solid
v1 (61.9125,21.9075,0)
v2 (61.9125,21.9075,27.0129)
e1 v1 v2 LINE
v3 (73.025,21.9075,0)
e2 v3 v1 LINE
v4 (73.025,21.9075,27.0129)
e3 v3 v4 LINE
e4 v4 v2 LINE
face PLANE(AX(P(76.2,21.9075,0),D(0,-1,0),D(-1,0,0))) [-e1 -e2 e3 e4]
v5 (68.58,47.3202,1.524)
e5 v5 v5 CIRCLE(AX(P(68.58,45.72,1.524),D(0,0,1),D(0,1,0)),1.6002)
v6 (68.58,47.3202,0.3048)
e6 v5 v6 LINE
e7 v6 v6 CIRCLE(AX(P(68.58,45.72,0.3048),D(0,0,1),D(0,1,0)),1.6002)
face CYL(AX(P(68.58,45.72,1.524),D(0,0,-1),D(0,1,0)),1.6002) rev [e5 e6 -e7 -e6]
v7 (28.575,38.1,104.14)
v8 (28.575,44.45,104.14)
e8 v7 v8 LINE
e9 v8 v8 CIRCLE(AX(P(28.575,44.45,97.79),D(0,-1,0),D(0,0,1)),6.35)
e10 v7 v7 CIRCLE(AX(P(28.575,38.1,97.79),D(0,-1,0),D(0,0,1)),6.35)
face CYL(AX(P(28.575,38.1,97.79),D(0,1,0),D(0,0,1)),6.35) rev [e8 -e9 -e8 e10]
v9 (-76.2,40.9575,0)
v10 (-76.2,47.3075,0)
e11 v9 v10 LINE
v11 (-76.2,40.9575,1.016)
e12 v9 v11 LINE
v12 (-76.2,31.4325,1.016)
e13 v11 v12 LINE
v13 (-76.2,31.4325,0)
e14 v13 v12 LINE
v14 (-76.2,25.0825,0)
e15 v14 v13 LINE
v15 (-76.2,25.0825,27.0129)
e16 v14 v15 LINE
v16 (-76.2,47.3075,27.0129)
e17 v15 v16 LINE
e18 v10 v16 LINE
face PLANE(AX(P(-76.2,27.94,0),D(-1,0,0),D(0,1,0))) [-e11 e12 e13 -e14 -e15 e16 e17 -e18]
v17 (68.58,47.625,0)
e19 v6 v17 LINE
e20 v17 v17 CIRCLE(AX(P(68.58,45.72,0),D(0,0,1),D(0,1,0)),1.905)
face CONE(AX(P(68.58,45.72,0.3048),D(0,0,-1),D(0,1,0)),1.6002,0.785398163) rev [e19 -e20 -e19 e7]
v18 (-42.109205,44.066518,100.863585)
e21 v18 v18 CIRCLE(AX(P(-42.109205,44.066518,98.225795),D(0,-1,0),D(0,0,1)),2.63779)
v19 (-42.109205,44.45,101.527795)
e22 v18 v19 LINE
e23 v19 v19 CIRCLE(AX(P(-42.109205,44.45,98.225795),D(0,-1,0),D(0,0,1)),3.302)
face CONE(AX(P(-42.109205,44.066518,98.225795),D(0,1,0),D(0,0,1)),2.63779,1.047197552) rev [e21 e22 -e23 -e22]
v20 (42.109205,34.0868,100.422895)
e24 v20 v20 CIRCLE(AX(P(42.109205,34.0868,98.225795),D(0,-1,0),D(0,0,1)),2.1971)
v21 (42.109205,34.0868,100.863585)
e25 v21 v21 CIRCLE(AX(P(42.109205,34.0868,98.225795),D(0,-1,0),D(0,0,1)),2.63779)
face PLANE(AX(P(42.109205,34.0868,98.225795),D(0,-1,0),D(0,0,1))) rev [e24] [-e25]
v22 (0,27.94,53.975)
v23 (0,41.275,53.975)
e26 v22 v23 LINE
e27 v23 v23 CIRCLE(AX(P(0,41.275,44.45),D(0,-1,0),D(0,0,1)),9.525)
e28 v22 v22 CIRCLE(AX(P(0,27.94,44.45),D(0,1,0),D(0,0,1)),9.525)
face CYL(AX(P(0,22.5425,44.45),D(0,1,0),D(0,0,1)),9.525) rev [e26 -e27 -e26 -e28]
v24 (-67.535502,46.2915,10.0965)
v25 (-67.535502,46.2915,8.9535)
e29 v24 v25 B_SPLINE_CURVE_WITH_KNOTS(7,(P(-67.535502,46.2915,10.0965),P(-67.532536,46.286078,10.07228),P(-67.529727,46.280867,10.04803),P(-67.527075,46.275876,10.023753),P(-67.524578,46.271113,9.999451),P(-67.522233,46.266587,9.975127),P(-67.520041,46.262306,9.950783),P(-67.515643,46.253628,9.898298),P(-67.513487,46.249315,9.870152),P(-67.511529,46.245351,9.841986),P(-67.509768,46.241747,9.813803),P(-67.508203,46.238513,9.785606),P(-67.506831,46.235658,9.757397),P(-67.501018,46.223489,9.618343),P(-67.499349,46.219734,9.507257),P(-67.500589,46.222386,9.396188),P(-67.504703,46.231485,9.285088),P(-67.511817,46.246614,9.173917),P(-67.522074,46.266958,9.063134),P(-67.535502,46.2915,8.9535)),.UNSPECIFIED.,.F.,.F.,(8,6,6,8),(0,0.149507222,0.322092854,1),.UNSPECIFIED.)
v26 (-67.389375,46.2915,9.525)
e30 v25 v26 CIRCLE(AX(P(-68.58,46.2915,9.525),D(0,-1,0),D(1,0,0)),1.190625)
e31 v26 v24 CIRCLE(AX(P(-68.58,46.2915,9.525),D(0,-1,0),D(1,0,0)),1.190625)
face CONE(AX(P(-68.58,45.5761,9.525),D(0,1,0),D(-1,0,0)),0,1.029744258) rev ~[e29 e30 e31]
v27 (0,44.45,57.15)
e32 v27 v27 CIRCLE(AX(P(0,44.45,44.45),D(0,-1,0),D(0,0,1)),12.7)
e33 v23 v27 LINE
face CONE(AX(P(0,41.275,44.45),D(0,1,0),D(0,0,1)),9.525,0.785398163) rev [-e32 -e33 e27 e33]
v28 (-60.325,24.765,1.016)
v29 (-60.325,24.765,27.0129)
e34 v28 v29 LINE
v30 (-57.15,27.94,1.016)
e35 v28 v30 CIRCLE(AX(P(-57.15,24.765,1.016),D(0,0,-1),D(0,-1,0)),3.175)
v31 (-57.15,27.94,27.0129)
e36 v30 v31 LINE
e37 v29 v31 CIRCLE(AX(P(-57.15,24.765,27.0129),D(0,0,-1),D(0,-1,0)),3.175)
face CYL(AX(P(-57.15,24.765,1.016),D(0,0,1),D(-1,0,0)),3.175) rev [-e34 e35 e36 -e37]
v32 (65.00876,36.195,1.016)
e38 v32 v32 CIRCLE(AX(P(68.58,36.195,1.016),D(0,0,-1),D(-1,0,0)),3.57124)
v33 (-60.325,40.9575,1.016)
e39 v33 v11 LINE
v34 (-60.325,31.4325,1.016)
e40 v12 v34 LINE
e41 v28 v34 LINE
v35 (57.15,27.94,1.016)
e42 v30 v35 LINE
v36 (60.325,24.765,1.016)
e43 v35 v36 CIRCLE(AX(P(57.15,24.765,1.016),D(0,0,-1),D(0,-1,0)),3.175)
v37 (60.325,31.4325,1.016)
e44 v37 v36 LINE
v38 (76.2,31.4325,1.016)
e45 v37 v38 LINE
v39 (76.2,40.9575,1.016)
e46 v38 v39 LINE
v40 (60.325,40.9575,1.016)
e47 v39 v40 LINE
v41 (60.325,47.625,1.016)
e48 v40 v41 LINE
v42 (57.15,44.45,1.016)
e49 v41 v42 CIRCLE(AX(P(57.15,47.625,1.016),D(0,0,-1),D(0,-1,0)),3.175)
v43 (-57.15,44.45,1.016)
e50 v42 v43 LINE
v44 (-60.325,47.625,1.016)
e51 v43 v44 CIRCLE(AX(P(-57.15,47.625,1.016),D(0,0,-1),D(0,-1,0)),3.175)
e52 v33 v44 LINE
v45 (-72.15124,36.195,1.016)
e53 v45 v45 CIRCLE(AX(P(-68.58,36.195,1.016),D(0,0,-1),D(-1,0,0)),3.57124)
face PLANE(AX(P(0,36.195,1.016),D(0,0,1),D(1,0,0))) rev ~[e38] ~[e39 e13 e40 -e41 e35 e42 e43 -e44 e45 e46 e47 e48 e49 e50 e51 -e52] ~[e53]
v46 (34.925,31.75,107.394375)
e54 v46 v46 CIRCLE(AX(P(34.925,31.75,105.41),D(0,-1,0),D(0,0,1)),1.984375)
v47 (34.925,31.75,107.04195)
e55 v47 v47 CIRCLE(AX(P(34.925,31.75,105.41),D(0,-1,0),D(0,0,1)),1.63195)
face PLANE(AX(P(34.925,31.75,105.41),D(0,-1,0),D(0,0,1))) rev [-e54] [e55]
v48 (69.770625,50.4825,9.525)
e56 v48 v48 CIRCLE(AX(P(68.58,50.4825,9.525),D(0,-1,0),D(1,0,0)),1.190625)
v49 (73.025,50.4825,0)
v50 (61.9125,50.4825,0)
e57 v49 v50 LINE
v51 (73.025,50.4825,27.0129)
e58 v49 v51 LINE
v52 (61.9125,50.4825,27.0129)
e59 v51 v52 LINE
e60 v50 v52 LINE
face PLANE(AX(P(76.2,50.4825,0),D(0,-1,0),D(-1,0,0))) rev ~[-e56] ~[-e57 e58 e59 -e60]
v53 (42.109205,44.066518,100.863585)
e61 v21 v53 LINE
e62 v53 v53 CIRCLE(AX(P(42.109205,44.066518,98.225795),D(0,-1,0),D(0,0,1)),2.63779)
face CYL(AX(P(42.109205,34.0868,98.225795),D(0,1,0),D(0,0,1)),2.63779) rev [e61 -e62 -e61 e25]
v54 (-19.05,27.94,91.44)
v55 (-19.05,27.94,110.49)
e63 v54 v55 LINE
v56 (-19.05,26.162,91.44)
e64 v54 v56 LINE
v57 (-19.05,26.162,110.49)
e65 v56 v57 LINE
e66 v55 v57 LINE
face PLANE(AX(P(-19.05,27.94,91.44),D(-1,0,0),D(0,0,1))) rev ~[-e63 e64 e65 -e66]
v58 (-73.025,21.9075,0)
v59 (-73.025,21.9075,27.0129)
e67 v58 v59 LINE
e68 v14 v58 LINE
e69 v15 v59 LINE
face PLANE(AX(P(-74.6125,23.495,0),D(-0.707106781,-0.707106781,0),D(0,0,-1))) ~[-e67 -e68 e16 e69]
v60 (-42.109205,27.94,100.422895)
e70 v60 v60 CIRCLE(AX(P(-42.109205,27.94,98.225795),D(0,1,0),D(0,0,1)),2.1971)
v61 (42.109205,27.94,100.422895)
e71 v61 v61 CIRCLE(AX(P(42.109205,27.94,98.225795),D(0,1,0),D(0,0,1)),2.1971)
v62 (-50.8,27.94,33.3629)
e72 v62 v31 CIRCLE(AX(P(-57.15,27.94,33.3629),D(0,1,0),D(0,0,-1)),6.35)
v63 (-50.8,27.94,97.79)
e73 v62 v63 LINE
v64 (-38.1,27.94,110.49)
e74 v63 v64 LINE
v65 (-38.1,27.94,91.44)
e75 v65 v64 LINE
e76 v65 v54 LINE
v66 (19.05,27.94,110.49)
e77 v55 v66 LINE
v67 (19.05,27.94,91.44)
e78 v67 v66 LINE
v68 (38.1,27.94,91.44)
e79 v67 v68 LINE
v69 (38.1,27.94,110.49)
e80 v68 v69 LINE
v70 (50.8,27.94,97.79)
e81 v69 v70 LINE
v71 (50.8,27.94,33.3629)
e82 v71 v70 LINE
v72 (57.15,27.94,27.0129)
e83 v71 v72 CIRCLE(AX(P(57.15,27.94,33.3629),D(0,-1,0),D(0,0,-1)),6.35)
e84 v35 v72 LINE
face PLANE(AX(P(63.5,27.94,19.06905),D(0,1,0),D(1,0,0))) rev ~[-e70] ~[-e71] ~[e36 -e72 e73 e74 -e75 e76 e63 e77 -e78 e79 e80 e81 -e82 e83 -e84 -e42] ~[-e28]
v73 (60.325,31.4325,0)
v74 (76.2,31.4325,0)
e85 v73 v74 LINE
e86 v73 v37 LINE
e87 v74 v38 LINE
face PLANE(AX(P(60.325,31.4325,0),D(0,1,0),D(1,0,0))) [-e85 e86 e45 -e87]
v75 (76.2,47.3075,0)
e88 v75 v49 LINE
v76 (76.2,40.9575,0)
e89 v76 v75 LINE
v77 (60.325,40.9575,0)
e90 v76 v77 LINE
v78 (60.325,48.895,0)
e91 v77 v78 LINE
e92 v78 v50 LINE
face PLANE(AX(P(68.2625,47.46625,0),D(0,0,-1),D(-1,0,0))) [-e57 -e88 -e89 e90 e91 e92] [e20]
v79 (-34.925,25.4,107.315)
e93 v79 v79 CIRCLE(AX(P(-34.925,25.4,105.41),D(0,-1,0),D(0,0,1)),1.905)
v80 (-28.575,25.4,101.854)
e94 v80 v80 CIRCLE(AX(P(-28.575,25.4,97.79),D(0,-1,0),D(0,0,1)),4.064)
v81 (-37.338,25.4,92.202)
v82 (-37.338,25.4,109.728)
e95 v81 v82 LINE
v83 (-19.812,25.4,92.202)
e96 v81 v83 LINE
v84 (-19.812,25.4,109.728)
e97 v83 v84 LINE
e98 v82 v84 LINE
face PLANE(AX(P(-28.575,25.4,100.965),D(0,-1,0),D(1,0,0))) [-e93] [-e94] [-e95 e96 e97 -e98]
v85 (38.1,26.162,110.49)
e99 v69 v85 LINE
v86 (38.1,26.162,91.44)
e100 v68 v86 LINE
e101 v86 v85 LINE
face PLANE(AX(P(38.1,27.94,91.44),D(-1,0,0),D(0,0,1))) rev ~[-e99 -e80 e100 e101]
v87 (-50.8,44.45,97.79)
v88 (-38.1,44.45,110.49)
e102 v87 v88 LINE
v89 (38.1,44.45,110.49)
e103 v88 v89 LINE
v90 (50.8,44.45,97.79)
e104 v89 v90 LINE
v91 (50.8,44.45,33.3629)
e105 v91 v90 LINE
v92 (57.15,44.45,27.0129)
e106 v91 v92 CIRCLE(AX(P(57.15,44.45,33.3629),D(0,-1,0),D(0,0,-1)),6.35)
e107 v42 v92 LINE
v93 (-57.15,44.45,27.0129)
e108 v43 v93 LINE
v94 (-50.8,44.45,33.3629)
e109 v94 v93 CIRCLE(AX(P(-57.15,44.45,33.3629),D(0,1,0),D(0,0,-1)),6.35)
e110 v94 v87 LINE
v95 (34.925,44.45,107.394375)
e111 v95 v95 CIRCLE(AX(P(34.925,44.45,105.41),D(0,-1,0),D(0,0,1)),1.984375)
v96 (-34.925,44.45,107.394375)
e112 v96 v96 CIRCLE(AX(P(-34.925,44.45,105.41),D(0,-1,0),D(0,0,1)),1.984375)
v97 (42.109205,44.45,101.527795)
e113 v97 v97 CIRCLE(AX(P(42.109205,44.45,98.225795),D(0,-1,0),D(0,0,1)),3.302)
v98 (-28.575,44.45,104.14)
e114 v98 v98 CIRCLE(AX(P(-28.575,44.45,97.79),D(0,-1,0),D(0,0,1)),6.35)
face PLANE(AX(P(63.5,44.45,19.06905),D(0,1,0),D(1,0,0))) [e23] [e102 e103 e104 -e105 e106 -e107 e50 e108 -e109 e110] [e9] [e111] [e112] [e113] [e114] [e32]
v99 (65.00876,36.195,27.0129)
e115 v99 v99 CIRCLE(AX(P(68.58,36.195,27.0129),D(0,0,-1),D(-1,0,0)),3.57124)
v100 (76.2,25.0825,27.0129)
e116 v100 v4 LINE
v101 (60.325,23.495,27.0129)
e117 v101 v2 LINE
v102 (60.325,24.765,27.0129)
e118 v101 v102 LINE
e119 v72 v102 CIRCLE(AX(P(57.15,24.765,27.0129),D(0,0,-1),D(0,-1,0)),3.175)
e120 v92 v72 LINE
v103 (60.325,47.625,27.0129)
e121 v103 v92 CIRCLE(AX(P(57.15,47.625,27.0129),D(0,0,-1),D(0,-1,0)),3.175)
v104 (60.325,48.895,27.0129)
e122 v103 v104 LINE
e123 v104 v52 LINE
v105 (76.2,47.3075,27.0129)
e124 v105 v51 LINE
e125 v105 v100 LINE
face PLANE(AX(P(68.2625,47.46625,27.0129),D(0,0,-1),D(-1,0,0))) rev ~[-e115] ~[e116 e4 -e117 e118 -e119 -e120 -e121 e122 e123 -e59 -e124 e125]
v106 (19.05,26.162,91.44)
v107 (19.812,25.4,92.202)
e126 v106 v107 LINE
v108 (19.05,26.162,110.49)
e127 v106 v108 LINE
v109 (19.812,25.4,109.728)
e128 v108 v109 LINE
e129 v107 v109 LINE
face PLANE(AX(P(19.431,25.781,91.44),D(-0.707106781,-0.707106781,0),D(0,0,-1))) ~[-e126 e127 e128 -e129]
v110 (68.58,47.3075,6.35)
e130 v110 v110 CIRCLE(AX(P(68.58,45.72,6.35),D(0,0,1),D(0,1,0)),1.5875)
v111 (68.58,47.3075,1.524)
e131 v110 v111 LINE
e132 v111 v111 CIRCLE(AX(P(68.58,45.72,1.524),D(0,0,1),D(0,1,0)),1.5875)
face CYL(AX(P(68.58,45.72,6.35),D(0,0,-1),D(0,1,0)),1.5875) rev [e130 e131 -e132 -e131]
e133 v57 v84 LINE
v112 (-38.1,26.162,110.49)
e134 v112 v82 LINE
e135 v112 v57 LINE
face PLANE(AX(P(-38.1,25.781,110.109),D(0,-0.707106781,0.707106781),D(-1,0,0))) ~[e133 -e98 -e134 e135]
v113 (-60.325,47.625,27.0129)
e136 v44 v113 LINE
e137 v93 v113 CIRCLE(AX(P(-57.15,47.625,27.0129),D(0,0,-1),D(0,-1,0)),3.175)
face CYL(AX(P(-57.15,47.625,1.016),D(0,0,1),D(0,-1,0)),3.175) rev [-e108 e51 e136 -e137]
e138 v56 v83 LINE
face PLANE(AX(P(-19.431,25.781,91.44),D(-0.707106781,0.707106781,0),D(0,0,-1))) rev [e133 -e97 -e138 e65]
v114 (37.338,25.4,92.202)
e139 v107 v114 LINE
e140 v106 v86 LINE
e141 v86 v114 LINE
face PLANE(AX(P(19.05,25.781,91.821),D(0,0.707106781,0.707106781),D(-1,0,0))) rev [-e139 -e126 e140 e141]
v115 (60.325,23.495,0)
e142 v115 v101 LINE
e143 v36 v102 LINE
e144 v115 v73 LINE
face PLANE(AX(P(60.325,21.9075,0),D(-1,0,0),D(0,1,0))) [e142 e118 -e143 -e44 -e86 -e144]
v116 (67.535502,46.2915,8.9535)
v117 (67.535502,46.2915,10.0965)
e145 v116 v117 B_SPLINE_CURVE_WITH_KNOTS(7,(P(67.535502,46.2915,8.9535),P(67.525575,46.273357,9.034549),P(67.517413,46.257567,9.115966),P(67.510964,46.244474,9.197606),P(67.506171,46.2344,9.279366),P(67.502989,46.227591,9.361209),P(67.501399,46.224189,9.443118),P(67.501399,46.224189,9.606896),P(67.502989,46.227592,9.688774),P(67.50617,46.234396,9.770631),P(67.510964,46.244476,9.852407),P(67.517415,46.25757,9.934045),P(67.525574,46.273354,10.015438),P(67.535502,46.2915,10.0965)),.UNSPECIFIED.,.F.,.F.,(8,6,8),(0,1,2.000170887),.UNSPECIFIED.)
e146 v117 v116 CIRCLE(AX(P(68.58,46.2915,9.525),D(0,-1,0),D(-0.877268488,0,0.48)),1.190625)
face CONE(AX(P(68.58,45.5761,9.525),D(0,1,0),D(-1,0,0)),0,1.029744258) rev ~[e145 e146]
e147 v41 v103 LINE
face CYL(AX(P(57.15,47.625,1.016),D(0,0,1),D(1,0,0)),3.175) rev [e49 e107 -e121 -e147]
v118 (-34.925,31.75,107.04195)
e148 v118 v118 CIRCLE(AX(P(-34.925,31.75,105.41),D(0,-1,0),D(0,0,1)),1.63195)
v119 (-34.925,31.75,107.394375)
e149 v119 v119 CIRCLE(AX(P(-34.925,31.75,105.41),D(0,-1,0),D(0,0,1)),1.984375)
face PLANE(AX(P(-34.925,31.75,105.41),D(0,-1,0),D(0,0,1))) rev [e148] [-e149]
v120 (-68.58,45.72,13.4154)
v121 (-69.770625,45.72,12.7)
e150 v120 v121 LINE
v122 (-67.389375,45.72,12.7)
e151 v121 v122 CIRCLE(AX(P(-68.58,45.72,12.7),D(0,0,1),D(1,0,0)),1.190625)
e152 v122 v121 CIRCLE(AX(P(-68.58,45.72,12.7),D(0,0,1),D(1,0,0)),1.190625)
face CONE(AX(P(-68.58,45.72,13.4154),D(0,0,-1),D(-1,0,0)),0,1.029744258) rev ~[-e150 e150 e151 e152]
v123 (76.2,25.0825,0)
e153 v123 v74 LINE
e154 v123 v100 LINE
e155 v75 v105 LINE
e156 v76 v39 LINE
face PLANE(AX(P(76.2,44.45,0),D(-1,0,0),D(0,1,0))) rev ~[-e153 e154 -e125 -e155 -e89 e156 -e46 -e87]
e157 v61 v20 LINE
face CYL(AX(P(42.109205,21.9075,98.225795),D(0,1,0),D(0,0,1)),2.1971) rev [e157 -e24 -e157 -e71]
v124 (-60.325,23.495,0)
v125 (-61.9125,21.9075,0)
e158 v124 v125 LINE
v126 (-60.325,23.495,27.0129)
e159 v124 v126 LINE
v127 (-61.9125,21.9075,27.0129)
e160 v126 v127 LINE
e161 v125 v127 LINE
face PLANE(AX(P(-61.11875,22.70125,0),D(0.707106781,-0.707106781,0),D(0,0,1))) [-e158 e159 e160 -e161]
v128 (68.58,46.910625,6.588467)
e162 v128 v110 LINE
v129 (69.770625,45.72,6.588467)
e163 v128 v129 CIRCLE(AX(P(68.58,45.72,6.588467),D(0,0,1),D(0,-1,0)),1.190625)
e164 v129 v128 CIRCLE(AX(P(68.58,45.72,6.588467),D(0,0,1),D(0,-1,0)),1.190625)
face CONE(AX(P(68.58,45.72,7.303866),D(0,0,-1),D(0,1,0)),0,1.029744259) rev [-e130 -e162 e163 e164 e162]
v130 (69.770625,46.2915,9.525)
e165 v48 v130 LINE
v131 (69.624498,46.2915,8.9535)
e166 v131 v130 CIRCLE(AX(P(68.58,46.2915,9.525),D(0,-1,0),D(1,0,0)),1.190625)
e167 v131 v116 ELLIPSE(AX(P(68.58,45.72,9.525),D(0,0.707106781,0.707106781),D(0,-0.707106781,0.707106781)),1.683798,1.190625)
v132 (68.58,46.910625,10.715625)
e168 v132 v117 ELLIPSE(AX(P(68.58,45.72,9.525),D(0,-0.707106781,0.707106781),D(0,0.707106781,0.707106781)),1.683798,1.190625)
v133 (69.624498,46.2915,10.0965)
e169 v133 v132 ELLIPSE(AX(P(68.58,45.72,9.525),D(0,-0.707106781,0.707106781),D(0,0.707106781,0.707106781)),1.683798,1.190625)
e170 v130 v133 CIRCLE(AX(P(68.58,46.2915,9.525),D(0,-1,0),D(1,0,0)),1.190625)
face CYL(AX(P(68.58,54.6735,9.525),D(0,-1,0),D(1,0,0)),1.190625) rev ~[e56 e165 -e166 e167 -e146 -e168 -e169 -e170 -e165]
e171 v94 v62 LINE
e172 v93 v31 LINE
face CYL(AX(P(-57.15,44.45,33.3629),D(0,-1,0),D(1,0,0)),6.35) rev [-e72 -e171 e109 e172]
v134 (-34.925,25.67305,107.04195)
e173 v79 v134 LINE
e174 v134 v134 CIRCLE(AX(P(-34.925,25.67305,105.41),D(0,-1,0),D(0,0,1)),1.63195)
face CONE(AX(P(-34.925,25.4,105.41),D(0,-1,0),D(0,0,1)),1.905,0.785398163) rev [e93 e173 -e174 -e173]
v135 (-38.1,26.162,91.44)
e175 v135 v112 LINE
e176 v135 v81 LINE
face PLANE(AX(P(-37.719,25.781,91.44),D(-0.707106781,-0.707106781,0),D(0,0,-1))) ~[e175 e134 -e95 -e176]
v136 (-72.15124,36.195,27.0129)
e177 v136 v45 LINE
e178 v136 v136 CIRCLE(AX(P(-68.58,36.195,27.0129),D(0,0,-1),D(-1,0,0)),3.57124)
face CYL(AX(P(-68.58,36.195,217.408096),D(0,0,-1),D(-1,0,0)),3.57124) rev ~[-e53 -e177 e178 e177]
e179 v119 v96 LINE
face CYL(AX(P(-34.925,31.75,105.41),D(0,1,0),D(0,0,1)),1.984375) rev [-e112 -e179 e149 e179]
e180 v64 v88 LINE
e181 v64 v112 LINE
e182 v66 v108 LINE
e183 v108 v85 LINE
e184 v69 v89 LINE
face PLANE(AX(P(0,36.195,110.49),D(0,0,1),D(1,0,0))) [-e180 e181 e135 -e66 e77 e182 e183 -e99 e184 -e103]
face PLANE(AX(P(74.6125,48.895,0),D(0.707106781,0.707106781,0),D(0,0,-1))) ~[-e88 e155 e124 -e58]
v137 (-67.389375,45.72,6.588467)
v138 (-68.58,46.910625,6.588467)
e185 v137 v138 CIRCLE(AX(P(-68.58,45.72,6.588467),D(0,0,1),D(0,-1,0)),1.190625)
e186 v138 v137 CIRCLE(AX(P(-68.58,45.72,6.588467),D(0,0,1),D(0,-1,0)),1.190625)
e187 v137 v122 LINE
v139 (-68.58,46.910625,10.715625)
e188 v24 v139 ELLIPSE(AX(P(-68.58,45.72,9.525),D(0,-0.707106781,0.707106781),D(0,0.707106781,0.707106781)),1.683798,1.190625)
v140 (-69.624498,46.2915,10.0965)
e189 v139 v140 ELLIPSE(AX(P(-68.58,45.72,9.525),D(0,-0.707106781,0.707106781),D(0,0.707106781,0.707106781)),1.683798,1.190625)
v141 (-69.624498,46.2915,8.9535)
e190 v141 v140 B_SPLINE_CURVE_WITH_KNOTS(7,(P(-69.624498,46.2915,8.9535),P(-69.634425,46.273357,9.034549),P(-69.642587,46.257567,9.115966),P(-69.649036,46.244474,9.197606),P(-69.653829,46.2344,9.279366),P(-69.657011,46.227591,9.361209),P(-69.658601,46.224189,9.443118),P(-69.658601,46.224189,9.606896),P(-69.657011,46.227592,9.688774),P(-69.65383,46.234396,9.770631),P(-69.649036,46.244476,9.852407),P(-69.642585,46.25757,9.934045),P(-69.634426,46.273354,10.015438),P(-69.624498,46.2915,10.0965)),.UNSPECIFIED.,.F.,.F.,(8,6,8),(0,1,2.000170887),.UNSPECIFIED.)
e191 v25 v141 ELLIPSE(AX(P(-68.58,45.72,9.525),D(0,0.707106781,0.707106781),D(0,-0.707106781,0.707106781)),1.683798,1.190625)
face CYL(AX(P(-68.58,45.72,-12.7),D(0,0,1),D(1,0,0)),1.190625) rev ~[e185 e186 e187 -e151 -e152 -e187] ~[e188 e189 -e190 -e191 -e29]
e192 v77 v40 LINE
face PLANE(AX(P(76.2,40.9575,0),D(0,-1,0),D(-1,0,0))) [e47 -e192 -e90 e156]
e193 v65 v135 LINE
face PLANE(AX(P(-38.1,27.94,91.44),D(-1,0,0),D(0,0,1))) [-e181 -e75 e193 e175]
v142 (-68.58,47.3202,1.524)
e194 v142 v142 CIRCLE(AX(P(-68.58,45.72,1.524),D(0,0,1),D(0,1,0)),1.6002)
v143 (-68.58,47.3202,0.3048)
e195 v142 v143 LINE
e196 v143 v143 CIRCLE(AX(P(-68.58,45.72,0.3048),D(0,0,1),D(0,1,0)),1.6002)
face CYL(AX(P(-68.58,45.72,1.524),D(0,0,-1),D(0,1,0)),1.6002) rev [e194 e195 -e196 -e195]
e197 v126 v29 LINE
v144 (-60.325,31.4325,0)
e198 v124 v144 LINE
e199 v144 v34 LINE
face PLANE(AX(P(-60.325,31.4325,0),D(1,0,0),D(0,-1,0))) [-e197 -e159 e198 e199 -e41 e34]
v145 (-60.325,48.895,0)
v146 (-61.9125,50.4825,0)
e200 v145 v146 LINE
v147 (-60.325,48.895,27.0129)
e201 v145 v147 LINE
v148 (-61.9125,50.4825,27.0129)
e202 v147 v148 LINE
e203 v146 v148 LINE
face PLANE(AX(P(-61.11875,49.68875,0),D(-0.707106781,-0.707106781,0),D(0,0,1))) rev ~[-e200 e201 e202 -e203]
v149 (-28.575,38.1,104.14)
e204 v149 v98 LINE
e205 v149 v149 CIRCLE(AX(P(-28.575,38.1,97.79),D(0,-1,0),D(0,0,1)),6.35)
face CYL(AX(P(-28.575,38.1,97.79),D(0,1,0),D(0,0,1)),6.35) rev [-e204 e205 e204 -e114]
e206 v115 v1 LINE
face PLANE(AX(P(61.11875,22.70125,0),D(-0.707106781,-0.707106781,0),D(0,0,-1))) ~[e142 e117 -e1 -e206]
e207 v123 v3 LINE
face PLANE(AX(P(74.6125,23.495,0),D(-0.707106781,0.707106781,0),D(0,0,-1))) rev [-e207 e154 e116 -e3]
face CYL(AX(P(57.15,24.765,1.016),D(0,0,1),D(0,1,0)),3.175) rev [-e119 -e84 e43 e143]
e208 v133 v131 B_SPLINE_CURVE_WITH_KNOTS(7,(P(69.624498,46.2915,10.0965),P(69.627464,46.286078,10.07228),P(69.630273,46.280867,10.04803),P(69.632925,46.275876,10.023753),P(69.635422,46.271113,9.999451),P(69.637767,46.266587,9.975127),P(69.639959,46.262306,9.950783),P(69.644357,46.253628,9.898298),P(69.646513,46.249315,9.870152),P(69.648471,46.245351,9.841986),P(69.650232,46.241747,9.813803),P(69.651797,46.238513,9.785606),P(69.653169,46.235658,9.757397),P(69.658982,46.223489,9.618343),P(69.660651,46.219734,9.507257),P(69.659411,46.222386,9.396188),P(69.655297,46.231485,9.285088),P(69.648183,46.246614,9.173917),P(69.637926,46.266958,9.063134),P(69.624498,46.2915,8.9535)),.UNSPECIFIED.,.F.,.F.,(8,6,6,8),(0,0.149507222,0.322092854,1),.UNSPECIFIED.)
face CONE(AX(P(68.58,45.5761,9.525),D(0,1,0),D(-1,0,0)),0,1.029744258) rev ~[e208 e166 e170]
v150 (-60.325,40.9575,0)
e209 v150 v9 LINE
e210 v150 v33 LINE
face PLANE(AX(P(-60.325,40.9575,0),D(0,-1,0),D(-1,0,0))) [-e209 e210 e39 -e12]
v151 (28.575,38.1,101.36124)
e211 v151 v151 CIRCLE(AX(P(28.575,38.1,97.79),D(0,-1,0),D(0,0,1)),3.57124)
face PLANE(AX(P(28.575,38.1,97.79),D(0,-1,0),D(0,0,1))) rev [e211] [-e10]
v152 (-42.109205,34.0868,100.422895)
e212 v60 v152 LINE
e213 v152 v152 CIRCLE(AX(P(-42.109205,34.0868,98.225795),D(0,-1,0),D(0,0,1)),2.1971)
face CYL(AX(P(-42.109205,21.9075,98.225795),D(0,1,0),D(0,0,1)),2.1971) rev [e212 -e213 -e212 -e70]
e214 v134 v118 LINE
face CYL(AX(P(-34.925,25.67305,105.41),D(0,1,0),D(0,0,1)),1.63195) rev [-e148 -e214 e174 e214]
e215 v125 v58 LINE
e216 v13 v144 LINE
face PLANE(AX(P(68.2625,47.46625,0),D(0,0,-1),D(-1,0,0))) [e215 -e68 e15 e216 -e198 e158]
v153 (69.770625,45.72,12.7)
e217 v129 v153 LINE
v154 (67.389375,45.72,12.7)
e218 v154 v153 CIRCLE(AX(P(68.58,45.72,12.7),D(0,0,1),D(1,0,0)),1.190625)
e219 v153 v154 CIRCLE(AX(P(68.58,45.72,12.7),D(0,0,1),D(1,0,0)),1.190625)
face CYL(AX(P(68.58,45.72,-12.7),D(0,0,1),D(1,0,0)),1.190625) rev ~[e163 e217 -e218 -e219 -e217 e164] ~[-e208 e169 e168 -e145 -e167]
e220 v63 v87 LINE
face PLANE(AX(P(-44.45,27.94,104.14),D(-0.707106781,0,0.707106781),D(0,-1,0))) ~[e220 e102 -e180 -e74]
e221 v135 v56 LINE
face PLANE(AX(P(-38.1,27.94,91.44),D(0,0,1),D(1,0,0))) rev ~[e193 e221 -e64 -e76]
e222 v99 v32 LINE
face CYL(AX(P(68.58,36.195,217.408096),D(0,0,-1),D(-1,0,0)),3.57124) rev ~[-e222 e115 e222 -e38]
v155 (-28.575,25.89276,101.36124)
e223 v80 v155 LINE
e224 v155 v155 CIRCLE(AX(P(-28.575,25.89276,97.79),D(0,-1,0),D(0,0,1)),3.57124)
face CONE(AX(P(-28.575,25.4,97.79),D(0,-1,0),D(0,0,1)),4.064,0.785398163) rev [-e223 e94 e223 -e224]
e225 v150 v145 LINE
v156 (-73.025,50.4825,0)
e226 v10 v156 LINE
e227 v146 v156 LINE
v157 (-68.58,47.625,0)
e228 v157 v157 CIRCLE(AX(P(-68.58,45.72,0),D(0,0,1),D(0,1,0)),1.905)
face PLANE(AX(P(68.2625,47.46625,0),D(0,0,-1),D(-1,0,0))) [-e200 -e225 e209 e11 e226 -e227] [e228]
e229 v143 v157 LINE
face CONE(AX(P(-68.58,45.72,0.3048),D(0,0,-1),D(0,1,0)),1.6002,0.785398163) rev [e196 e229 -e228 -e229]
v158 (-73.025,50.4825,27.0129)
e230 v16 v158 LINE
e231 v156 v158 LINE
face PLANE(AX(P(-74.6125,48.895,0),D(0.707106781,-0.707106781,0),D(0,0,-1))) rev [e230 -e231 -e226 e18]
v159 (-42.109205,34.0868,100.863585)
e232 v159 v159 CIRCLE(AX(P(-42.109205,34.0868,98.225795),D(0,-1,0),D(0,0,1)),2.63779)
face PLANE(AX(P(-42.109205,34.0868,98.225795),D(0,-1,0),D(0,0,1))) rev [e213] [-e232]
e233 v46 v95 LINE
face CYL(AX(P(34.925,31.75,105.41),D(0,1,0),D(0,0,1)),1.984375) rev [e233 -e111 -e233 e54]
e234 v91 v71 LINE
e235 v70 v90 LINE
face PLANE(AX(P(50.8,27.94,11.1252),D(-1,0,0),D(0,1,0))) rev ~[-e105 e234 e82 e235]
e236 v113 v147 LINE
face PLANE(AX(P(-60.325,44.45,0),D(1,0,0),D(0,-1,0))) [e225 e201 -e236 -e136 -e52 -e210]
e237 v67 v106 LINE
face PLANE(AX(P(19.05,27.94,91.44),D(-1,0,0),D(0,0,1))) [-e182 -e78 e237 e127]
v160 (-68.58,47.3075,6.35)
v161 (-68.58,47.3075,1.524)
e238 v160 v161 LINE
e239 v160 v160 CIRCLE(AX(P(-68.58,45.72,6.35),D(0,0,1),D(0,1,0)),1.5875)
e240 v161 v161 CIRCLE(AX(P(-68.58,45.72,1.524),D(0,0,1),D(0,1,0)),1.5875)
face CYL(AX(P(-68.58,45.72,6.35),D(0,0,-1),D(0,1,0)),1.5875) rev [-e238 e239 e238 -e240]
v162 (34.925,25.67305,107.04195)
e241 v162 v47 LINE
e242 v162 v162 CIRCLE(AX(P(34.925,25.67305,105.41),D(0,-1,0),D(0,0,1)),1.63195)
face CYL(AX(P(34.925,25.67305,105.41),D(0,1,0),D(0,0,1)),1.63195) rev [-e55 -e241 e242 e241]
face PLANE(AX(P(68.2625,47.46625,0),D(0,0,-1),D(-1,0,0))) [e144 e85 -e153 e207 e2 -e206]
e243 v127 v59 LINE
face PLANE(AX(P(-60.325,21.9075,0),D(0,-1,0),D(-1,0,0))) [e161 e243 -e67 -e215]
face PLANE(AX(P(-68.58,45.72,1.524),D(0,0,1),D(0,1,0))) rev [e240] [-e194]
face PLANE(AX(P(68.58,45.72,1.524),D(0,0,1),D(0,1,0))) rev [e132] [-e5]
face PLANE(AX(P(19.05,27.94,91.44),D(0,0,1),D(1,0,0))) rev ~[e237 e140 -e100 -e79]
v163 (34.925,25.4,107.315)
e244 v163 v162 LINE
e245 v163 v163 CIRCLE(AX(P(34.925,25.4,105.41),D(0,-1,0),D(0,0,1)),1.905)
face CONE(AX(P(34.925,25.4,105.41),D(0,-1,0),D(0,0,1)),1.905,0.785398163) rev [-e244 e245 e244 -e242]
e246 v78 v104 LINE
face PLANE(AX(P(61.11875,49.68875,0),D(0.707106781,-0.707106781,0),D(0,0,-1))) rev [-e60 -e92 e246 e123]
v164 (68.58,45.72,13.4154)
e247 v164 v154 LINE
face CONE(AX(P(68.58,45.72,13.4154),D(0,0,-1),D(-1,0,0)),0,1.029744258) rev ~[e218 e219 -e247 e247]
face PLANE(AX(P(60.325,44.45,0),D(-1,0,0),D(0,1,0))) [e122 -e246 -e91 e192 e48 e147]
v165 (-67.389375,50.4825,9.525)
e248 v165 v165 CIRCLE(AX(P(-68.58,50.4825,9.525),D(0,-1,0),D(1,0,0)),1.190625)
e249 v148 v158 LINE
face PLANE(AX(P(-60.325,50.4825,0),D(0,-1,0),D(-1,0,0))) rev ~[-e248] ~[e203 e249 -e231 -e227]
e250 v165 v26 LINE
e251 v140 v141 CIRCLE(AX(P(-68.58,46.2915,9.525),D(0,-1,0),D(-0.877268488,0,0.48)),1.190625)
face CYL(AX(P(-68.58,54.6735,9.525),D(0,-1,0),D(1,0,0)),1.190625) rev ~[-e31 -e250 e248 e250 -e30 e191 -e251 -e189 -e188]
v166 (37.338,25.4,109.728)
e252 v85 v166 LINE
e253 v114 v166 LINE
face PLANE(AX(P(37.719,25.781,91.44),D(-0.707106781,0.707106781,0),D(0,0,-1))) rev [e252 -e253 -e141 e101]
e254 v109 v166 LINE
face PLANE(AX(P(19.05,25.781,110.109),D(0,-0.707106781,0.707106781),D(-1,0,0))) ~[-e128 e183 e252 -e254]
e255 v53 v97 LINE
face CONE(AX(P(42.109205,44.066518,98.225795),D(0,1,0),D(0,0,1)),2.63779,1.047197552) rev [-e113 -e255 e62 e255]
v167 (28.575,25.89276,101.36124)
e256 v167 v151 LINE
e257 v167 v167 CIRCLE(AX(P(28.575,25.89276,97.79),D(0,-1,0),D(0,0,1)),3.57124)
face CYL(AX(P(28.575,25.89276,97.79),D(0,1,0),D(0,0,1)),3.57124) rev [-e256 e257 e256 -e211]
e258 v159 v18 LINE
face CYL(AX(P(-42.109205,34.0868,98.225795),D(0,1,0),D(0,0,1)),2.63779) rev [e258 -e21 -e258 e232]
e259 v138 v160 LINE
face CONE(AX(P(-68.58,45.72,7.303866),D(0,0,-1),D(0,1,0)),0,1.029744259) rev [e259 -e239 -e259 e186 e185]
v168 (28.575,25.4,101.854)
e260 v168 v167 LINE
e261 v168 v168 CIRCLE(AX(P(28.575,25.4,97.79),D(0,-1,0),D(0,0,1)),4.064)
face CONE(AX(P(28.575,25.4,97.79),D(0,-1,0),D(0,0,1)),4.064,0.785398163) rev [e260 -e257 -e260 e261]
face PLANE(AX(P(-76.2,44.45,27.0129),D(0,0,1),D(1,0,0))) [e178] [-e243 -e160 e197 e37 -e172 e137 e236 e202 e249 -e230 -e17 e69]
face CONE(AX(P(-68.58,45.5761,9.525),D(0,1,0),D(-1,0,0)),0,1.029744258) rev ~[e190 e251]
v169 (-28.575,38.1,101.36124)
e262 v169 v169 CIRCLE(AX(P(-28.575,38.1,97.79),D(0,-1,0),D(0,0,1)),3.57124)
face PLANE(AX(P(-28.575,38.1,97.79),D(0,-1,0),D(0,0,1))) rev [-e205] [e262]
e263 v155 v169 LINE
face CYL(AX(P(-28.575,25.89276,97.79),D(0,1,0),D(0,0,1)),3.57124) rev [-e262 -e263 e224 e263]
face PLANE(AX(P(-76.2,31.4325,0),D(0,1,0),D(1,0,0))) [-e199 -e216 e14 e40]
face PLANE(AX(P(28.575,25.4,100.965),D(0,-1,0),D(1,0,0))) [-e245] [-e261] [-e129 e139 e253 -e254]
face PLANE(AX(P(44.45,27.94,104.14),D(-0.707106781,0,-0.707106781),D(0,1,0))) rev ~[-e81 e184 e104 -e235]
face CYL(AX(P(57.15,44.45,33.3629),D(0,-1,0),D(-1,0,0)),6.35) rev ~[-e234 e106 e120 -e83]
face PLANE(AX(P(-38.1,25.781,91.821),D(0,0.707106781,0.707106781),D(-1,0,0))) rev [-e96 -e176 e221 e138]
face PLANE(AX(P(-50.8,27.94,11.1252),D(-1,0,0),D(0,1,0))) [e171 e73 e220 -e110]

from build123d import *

# Parameters (mm, degrees)
SKETCH1_W                                     = 152.4
SKETCH1_H                                     = 16.51
EXTRUDE1_DEPTH                                = 11.1252
SKETCH2_W                                     = 101.6
SKETCH2_H                                     = 16.51
EXTRUDE2_DEPTH                                = 99.3648
SKETCH4_W                                     = 19.05
SKETCH4_H                                     = 19.05
EXTRUDE4_DEPTH                                = 2.54
SKETCH23_W                                    = 25.4
SKETCH23_H                                    = 15.8877
EXTRUDE17_DEPTH                               = 16.51
SKETCH45_W                                    = 15.875
SKETCH45_H                                    = 6.0325
EXTRUDE20_DEPTH                               = 27.0129
EXTRUDE21_DEPTH                               = 1.016
FILLET3_R                                     = 3.175
F_1_4_CLEARANCE_HOLE1_D                       = 7.14248
CBORE_FOR_SOCKET_HEAD_CAP_SCREW0_AT_2_COUNT   = 2
CBORE_FOR_SOCKET_HEAD_CAP_SCREW0_AT_2_PITCH   = 57.15
F_1_8_PRESS_PIN_HOLES_AT_2_COUNT              = 2
F_1_8_PRESS_PIN_HOLES_AT_2_PITCH              = 137.16
F_3_32_0_09375_DIAMETER_HOLE1_D               = 2.38125
F_3_32_0_09375_DIAMETER_HOLE1_DEPTH           = 12.7
F_3_32_0_09375_DIAMETER_HOLE1_TIP             = 0.715399675
F_3_32_0_09375_DIAMETER_HOLE2_D               = 2.38125
F_3_32_0_09375_DIAMETER_HOLE2_DEPTH           = 4.191
F_3_32_0_09375_DIAMETER_HOLE2_TIP             = 0.715399675
FILLET4_R                                     = 6.35
CHAMFER6_SIZE                                 = 3.175
CHAMFER7_SIZE                                 = 12.7
CHAMFER8_SIZE                                 = 1.5875
CHAMFER9_SIZE                                 = 0.762
CBORE_FOR_6_SOCKET_HEAD_CAP_SCREW2_AT_2_COUNT = 2
CBORE_FOR_6_SOCKET_HEAD_CAP_SCREW2_AT_2_PITCH = 69.85
TAPPED_HOLE_FOR_8_32_HELICOIL2_AT_2_COUNT     = 2
TAPPED_HOLE_FOR_8_32_HELICOIL2_AT_2_PITCH     = 84.218409794


with BuildPart() as part:
    # Sketch1 → Extrude1 (new body)
    with BuildSketch(Plane.XY):
        with Locations((0, 36.195)):
            Rectangle(SKETCH1_W, SKETCH1_H)
    extrude(amount=EXTRUDE1_DEPTH)

    # Sketch2 → Extrude2 (add)
    with BuildSketch(Plane.XY.offset(11.1252)):
        with Locations((0, 36.195)):
            Rectangle(SKETCH2_W, SKETCH2_H)
    extrude(amount=EXTRUDE2_DEPTH)

    # Sketch4 → Extrude4 (add)
    with BuildSketch(Plane.XZ.offset(-27.94)):
        with Locations((-28.575, 100.965)):
            Rectangle(SKETCH4_W, SKETCH4_H)
        with Locations((28.575, 100.965)):
            Rectangle(SKETCH4_W, SKETCH4_H)
    extrude(amount=EXTRUDE4_DEPTH)

    # Sketch23 → Extrude17 (add)
    with BuildSketch(Plane(origin=(0, 44.45, 0), x_dir=(1, 0, 0), z_dir=(0, 1, 0))):
        with Locations((63.5, -19.06905)):
            Rectangle(SKETCH23_W, SKETCH23_H)
        with Locations((-63.5, -19.06905)):
            Rectangle(SKETCH23_W, SKETCH23_H)
    extrude(amount=-EXTRUDE17_DEPTH)

    # Sketch45 → Extrude20 (add)
    with BuildSketch(Plane(origin=(0, 0, 0), x_dir=(-1, 0, 0), z_dir=(0, 0, -1))):
        with Locations((-68.2625, 47.46625)):
            Rectangle(SKETCH45_W, SKETCH45_H)
        with Locations((-68.2625, 24.92375)):
            Rectangle(SKETCH45_W, SKETCH45_H)
        with Locations((68.2625, 47.46625)):
            Rectangle(SKETCH45_W, SKETCH45_H)
        with Locations((68.2625, 24.92375)):
            Rectangle(SKETCH45_W, SKETCH45_H)
    extrude(amount=-EXTRUDE20_DEPTH)

    # Sketch46 → Extrude21 (cut)
    with BuildSketch(Plane(origin=(0, 0, 0), x_dir=(-1, 0, 0), z_dir=(0, 0, -1))):
        Polygon((-60.325, 44.45), (60.325, 44.45), (60.325, 40.9575), (76.2, 40.9575), (76.2, 31.4325), (60.325, 31.4325), (60.325, 27.94), (-60.325, 27.94), (-60.325, 31.4325), (-76.2, 31.4325), (-76.2, 40.9575), (-60.325, 40.9575), align=None)
    extrude(amount=-EXTRUDE21_DEPTH, mode=Mode.SUBTRACT)

    # Fillet3
    fillet3_edges = [part.edges().sort_by_distance(p)[0] for p in [
        (-60.325, 44.45, 14.01445),
        (-60.325, 27.94, 14.01445),
        (60.325, 27.94, 14.01445),
        (60.325, 44.45, 14.01445),
    ]]
    fillet(fillet3_edges, radius=FILLET3_R)

    # 1/4 Clearance Hole1 (through all)
    with Locations(Plane(origin=(56.815772276, 10.084895152, 27.0129), x_dir=(1, 0, 0), z_dir=(0, 0, 1))):
        with Locations((-125.395772276, 26.110104848), (11.764227724, 26.110104848)):
            Hole(F_1_4_CLEARANCE_HOLE1_D / 2)

    # Sketch30 → 3/4 (0.75) Diameter Hole1 (revolve, cut)
    with BuildSketch(Plane(origin=(0, 44.45, 44.45), x_dir=(0, 0, 1), z_dir=(1, 0, 0))):
        Polygon((0, 0), (0, 22.5425), (10.16, 22.5425), (9.525, 21.9075), (9.525, 3.175), (12.7, 0), align=None)
    revolve(axis=Axis((0, 50.8, 44.45), (0, -1, 0)), mode=Mode.SUBTRACT)

    # Sketch7 → CBORE for  Socket Head Cap Screw0 (revolve, cut)
    with BuildSketch(Plane(origin=(-28.575, 44.45, 97.79), x_dir=(0, 0, 1), z_dir=(1, 0, 0))):
        Polygon((0, 0), (0, 19.05), (4.064, 19.05), (3.57124, 18.55724), (3.57124, 6.35), (6.35, 6.35), (6.35, 0), align=None)
    cbore_for_socket_head_cap_screw0 = revolve(axis=Axis((-28.575, 50.8, 97.79), (0, -1, 0)), mode=Mode.SUBTRACT)

    # CBORE for  Socket Head Cap Screw0 at 2: CBORE for  Socket Head Cap Screw0 ×2
    with Locations(*[(i * CBORE_FOR_SOCKET_HEAD_CAP_SCREW0_AT_2_PITCH, 0, 0) for i in range(1, CBORE_FOR_SOCKET_HEAD_CAP_SCREW0_AT_2_COUNT)]):
        add(cbore_for_socket_head_cap_screw0, mode=Mode.SUBTRACT)

    # Sketch47 → 1/8" Press Pin Holes (revolve, cut)
    with BuildSketch(Plane(origin=(68.58, 45.72, 0), x_dir=(0, 1, 0), z_dir=(1, 0, 0))):
        Polygon((0, 0), (0, 7.303866233), (1.5875, 6.35), (1.5875, 1.524), (1.6002, 1.524), (1.6002, 0.3048), (1.905, 0), align=None)
    f_1_8_press_pin_holes = revolve(axis=Axis((68.58, 45.72, -6.35), (0, 0, 1)), mode=Mode.SUBTRACT)

    # 1/8" Press Pin Holes at 2: 1/8" Press Pin Holes ×2
    with Locations(*[(-i * F_1_8_PRESS_PIN_HOLES_AT_2_PITCH, 0, 0) for i in range(1, F_1_8_PRESS_PIN_HOLES_AT_2_COUNT)]):
        add(f_1_8_press_pin_holes, mode=Mode.SUBTRACT)

    # 3/32 (0.09375) Diameter Hole1
    with Locations(Plane(origin=(0, 0, 0), x_dir=(-1, 0, 0), z_dir=(0, 0, -1))):
        with Locations((-68.58, 45.72), (68.58, 45.72)):
            Hole(F_3_32_0_09375_DIAMETER_HOLE1_D / 2, depth=F_3_32_0_09375_DIAMETER_HOLE1_DEPTH)
            with Locations((0, 0, -(F_3_32_0_09375_DIAMETER_HOLE1_DEPTH + F_3_32_0_09375_DIAMETER_HOLE1_TIP / 2))):  # 118° drill point
                Cone(0, F_3_32_0_09375_DIAMETER_HOLE1_D / 2, F_3_32_0_09375_DIAMETER_HOLE1_TIP, mode=Mode.SUBTRACT)

    # 3/32 (0.09375) Diameter Hole2
    with Locations(Plane(origin=(0, 50.4825, 0), x_dir=(-1, 0, 0), z_dir=(0, 1, 0))):
        with Locations((-68.58, 9.525), (68.58, 9.525)):
            Hole(F_3_32_0_09375_DIAMETER_HOLE2_D / 2, depth=F_3_32_0_09375_DIAMETER_HOLE2_DEPTH)
            with Locations((0, 0, -(F_3_32_0_09375_DIAMETER_HOLE2_DEPTH + F_3_32_0_09375_DIAMETER_HOLE2_TIP / 2))):  # 118° drill point
                Cone(0, F_3_32_0_09375_DIAMETER_HOLE2_D / 2, F_3_32_0_09375_DIAMETER_HOLE2_TIP, mode=Mode.SUBTRACT)

    # Fillet4
    fillet4_edges = [part.edges().sort_by_distance(p)[0] for p in [
        (50.8, 36.195, 27.0129),
        (-50.8, 36.195, 27.0129),
    ]]
    fillet(fillet4_edges, radius=FILLET4_R)

    # Chamfer6
    chamfer6_edges = [part.edges().sort_by_distance(p)[0] for p in [
        (-76.2, 50.4825, 13.50645),
        (-76.2, 21.9075, 13.50645),
        (76.2, 50.4825, 13.50645),
        (76.2, 21.9075, 13.50645),
    ]]
    chamfer(chamfer6_edges, length=CHAMFER6_SIZE)

    # Chamfer7
    chamfer7_edges = [part.edges().sort_by_distance(p)[0] for p in [
        (50.8, 36.195, 110.49),
        (-50.8, 36.195, 110.49),
    ]]
    chamfer(chamfer7_edges, length=CHAMFER7_SIZE)

    # Chamfer8
    chamfer8_edges = [part.edges().sort_by_distance(p)[0] for p in [
        (-60.325, 50.4825, 13.50645),
        (-60.325, 21.9075, 13.50645),
        (60.325, 50.4825, 13.50645),
        (60.325, 21.9075, 13.50645),
    ]]
    chamfer(chamfer8_edges, length=CHAMFER8_SIZE)

    # Chamfer9
    chamfer9_edges = [part.edges().sort_by_distance(p)[0] for p in [
        (28.575, 25.4, 91.44),
        (38.1, 25.4, 100.965),
        (28.575, 25.4, 110.49),
        (19.05, 25.4, 100.965),
        (-19.05, 25.4, 100.965),
        (-28.575, 25.4, 91.44),
        (-38.1, 25.4, 100.965),
        (-28.575, 25.4, 110.49),
    ]]
    chamfer(chamfer9_edges, length=CHAMFER9_SIZE)

    # Sketch53 → CBORE for #6 Socket Head Cap Screw2 (revolve, cut)
    with BuildSketch(Plane(origin=(-34.925, 44.45, 105.41), x_dir=(0, 0, 1), z_dir=(1, 0, 0))):
        Polygon((0, 0), (0, 19.05), (1.905, 19.05), (1.63195, 18.77695), (1.63195, 12.7), (1.984375, 12.7), (1.984375, 0), align=None)
    cbore_for_6_socket_head_cap_screw2 = revolve(axis=Axis((-34.925, 50.8, 105.41), (0, -1, 0)), mode=Mode.SUBTRACT)

    # CBORE for #6 Socket Head Cap Screw2 at 2: CBORE for #6 Socket Head Cap Screw2 ×2
    with Locations(*[(i * CBORE_FOR_6_SOCKET_HEAD_CAP_SCREW2_AT_2_PITCH, 0, 0) for i in range(1, CBORE_FOR_6_SOCKET_HEAD_CAP_SCREW2_AT_2_COUNT)]):
        add(cbore_for_6_socket_head_cap_screw2, mode=Mode.SUBTRACT)

    # Sketch55 → Tapped Hole for #8-32 Helicoil2 (revolve, cut)
    with BuildSketch(Plane(origin=(-42.109204897, 44.45, 98.225795103), x_dir=(0, 0, 1), z_dir=(1, 0, 0))):
        Polygon((0, 0), (0, 22.5425), (2.1971, 22.5425), (2.1971, 10.3632), (2.63779, 10.3632), (2.63779, 0.383481822), (3.302, 0), align=None)
    tapped_hole_for_8_32_helicoil2 = revolve(axis=Axis((-42.109204897, 50.8, 98.225795103), (0, -1, 0)), mode=Mode.SUBTRACT)

    # Tapped Hole for #8-32 Helicoil2 at 2: Tapped Hole for #8-32 Helicoil2 ×2
    with Locations(*[(i * TAPPED_HOLE_FOR_8_32_HELICOIL2_AT_2_PITCH, 0, 0) for i in range(1, TAPPED_HOLE_FOR_8_32_HELICOIL2_AT_2_COUNT)]):
        add(tapped_hole_for_8_32_helicoil2, mode=Mode.SUBTRACT)


solid = part.part
